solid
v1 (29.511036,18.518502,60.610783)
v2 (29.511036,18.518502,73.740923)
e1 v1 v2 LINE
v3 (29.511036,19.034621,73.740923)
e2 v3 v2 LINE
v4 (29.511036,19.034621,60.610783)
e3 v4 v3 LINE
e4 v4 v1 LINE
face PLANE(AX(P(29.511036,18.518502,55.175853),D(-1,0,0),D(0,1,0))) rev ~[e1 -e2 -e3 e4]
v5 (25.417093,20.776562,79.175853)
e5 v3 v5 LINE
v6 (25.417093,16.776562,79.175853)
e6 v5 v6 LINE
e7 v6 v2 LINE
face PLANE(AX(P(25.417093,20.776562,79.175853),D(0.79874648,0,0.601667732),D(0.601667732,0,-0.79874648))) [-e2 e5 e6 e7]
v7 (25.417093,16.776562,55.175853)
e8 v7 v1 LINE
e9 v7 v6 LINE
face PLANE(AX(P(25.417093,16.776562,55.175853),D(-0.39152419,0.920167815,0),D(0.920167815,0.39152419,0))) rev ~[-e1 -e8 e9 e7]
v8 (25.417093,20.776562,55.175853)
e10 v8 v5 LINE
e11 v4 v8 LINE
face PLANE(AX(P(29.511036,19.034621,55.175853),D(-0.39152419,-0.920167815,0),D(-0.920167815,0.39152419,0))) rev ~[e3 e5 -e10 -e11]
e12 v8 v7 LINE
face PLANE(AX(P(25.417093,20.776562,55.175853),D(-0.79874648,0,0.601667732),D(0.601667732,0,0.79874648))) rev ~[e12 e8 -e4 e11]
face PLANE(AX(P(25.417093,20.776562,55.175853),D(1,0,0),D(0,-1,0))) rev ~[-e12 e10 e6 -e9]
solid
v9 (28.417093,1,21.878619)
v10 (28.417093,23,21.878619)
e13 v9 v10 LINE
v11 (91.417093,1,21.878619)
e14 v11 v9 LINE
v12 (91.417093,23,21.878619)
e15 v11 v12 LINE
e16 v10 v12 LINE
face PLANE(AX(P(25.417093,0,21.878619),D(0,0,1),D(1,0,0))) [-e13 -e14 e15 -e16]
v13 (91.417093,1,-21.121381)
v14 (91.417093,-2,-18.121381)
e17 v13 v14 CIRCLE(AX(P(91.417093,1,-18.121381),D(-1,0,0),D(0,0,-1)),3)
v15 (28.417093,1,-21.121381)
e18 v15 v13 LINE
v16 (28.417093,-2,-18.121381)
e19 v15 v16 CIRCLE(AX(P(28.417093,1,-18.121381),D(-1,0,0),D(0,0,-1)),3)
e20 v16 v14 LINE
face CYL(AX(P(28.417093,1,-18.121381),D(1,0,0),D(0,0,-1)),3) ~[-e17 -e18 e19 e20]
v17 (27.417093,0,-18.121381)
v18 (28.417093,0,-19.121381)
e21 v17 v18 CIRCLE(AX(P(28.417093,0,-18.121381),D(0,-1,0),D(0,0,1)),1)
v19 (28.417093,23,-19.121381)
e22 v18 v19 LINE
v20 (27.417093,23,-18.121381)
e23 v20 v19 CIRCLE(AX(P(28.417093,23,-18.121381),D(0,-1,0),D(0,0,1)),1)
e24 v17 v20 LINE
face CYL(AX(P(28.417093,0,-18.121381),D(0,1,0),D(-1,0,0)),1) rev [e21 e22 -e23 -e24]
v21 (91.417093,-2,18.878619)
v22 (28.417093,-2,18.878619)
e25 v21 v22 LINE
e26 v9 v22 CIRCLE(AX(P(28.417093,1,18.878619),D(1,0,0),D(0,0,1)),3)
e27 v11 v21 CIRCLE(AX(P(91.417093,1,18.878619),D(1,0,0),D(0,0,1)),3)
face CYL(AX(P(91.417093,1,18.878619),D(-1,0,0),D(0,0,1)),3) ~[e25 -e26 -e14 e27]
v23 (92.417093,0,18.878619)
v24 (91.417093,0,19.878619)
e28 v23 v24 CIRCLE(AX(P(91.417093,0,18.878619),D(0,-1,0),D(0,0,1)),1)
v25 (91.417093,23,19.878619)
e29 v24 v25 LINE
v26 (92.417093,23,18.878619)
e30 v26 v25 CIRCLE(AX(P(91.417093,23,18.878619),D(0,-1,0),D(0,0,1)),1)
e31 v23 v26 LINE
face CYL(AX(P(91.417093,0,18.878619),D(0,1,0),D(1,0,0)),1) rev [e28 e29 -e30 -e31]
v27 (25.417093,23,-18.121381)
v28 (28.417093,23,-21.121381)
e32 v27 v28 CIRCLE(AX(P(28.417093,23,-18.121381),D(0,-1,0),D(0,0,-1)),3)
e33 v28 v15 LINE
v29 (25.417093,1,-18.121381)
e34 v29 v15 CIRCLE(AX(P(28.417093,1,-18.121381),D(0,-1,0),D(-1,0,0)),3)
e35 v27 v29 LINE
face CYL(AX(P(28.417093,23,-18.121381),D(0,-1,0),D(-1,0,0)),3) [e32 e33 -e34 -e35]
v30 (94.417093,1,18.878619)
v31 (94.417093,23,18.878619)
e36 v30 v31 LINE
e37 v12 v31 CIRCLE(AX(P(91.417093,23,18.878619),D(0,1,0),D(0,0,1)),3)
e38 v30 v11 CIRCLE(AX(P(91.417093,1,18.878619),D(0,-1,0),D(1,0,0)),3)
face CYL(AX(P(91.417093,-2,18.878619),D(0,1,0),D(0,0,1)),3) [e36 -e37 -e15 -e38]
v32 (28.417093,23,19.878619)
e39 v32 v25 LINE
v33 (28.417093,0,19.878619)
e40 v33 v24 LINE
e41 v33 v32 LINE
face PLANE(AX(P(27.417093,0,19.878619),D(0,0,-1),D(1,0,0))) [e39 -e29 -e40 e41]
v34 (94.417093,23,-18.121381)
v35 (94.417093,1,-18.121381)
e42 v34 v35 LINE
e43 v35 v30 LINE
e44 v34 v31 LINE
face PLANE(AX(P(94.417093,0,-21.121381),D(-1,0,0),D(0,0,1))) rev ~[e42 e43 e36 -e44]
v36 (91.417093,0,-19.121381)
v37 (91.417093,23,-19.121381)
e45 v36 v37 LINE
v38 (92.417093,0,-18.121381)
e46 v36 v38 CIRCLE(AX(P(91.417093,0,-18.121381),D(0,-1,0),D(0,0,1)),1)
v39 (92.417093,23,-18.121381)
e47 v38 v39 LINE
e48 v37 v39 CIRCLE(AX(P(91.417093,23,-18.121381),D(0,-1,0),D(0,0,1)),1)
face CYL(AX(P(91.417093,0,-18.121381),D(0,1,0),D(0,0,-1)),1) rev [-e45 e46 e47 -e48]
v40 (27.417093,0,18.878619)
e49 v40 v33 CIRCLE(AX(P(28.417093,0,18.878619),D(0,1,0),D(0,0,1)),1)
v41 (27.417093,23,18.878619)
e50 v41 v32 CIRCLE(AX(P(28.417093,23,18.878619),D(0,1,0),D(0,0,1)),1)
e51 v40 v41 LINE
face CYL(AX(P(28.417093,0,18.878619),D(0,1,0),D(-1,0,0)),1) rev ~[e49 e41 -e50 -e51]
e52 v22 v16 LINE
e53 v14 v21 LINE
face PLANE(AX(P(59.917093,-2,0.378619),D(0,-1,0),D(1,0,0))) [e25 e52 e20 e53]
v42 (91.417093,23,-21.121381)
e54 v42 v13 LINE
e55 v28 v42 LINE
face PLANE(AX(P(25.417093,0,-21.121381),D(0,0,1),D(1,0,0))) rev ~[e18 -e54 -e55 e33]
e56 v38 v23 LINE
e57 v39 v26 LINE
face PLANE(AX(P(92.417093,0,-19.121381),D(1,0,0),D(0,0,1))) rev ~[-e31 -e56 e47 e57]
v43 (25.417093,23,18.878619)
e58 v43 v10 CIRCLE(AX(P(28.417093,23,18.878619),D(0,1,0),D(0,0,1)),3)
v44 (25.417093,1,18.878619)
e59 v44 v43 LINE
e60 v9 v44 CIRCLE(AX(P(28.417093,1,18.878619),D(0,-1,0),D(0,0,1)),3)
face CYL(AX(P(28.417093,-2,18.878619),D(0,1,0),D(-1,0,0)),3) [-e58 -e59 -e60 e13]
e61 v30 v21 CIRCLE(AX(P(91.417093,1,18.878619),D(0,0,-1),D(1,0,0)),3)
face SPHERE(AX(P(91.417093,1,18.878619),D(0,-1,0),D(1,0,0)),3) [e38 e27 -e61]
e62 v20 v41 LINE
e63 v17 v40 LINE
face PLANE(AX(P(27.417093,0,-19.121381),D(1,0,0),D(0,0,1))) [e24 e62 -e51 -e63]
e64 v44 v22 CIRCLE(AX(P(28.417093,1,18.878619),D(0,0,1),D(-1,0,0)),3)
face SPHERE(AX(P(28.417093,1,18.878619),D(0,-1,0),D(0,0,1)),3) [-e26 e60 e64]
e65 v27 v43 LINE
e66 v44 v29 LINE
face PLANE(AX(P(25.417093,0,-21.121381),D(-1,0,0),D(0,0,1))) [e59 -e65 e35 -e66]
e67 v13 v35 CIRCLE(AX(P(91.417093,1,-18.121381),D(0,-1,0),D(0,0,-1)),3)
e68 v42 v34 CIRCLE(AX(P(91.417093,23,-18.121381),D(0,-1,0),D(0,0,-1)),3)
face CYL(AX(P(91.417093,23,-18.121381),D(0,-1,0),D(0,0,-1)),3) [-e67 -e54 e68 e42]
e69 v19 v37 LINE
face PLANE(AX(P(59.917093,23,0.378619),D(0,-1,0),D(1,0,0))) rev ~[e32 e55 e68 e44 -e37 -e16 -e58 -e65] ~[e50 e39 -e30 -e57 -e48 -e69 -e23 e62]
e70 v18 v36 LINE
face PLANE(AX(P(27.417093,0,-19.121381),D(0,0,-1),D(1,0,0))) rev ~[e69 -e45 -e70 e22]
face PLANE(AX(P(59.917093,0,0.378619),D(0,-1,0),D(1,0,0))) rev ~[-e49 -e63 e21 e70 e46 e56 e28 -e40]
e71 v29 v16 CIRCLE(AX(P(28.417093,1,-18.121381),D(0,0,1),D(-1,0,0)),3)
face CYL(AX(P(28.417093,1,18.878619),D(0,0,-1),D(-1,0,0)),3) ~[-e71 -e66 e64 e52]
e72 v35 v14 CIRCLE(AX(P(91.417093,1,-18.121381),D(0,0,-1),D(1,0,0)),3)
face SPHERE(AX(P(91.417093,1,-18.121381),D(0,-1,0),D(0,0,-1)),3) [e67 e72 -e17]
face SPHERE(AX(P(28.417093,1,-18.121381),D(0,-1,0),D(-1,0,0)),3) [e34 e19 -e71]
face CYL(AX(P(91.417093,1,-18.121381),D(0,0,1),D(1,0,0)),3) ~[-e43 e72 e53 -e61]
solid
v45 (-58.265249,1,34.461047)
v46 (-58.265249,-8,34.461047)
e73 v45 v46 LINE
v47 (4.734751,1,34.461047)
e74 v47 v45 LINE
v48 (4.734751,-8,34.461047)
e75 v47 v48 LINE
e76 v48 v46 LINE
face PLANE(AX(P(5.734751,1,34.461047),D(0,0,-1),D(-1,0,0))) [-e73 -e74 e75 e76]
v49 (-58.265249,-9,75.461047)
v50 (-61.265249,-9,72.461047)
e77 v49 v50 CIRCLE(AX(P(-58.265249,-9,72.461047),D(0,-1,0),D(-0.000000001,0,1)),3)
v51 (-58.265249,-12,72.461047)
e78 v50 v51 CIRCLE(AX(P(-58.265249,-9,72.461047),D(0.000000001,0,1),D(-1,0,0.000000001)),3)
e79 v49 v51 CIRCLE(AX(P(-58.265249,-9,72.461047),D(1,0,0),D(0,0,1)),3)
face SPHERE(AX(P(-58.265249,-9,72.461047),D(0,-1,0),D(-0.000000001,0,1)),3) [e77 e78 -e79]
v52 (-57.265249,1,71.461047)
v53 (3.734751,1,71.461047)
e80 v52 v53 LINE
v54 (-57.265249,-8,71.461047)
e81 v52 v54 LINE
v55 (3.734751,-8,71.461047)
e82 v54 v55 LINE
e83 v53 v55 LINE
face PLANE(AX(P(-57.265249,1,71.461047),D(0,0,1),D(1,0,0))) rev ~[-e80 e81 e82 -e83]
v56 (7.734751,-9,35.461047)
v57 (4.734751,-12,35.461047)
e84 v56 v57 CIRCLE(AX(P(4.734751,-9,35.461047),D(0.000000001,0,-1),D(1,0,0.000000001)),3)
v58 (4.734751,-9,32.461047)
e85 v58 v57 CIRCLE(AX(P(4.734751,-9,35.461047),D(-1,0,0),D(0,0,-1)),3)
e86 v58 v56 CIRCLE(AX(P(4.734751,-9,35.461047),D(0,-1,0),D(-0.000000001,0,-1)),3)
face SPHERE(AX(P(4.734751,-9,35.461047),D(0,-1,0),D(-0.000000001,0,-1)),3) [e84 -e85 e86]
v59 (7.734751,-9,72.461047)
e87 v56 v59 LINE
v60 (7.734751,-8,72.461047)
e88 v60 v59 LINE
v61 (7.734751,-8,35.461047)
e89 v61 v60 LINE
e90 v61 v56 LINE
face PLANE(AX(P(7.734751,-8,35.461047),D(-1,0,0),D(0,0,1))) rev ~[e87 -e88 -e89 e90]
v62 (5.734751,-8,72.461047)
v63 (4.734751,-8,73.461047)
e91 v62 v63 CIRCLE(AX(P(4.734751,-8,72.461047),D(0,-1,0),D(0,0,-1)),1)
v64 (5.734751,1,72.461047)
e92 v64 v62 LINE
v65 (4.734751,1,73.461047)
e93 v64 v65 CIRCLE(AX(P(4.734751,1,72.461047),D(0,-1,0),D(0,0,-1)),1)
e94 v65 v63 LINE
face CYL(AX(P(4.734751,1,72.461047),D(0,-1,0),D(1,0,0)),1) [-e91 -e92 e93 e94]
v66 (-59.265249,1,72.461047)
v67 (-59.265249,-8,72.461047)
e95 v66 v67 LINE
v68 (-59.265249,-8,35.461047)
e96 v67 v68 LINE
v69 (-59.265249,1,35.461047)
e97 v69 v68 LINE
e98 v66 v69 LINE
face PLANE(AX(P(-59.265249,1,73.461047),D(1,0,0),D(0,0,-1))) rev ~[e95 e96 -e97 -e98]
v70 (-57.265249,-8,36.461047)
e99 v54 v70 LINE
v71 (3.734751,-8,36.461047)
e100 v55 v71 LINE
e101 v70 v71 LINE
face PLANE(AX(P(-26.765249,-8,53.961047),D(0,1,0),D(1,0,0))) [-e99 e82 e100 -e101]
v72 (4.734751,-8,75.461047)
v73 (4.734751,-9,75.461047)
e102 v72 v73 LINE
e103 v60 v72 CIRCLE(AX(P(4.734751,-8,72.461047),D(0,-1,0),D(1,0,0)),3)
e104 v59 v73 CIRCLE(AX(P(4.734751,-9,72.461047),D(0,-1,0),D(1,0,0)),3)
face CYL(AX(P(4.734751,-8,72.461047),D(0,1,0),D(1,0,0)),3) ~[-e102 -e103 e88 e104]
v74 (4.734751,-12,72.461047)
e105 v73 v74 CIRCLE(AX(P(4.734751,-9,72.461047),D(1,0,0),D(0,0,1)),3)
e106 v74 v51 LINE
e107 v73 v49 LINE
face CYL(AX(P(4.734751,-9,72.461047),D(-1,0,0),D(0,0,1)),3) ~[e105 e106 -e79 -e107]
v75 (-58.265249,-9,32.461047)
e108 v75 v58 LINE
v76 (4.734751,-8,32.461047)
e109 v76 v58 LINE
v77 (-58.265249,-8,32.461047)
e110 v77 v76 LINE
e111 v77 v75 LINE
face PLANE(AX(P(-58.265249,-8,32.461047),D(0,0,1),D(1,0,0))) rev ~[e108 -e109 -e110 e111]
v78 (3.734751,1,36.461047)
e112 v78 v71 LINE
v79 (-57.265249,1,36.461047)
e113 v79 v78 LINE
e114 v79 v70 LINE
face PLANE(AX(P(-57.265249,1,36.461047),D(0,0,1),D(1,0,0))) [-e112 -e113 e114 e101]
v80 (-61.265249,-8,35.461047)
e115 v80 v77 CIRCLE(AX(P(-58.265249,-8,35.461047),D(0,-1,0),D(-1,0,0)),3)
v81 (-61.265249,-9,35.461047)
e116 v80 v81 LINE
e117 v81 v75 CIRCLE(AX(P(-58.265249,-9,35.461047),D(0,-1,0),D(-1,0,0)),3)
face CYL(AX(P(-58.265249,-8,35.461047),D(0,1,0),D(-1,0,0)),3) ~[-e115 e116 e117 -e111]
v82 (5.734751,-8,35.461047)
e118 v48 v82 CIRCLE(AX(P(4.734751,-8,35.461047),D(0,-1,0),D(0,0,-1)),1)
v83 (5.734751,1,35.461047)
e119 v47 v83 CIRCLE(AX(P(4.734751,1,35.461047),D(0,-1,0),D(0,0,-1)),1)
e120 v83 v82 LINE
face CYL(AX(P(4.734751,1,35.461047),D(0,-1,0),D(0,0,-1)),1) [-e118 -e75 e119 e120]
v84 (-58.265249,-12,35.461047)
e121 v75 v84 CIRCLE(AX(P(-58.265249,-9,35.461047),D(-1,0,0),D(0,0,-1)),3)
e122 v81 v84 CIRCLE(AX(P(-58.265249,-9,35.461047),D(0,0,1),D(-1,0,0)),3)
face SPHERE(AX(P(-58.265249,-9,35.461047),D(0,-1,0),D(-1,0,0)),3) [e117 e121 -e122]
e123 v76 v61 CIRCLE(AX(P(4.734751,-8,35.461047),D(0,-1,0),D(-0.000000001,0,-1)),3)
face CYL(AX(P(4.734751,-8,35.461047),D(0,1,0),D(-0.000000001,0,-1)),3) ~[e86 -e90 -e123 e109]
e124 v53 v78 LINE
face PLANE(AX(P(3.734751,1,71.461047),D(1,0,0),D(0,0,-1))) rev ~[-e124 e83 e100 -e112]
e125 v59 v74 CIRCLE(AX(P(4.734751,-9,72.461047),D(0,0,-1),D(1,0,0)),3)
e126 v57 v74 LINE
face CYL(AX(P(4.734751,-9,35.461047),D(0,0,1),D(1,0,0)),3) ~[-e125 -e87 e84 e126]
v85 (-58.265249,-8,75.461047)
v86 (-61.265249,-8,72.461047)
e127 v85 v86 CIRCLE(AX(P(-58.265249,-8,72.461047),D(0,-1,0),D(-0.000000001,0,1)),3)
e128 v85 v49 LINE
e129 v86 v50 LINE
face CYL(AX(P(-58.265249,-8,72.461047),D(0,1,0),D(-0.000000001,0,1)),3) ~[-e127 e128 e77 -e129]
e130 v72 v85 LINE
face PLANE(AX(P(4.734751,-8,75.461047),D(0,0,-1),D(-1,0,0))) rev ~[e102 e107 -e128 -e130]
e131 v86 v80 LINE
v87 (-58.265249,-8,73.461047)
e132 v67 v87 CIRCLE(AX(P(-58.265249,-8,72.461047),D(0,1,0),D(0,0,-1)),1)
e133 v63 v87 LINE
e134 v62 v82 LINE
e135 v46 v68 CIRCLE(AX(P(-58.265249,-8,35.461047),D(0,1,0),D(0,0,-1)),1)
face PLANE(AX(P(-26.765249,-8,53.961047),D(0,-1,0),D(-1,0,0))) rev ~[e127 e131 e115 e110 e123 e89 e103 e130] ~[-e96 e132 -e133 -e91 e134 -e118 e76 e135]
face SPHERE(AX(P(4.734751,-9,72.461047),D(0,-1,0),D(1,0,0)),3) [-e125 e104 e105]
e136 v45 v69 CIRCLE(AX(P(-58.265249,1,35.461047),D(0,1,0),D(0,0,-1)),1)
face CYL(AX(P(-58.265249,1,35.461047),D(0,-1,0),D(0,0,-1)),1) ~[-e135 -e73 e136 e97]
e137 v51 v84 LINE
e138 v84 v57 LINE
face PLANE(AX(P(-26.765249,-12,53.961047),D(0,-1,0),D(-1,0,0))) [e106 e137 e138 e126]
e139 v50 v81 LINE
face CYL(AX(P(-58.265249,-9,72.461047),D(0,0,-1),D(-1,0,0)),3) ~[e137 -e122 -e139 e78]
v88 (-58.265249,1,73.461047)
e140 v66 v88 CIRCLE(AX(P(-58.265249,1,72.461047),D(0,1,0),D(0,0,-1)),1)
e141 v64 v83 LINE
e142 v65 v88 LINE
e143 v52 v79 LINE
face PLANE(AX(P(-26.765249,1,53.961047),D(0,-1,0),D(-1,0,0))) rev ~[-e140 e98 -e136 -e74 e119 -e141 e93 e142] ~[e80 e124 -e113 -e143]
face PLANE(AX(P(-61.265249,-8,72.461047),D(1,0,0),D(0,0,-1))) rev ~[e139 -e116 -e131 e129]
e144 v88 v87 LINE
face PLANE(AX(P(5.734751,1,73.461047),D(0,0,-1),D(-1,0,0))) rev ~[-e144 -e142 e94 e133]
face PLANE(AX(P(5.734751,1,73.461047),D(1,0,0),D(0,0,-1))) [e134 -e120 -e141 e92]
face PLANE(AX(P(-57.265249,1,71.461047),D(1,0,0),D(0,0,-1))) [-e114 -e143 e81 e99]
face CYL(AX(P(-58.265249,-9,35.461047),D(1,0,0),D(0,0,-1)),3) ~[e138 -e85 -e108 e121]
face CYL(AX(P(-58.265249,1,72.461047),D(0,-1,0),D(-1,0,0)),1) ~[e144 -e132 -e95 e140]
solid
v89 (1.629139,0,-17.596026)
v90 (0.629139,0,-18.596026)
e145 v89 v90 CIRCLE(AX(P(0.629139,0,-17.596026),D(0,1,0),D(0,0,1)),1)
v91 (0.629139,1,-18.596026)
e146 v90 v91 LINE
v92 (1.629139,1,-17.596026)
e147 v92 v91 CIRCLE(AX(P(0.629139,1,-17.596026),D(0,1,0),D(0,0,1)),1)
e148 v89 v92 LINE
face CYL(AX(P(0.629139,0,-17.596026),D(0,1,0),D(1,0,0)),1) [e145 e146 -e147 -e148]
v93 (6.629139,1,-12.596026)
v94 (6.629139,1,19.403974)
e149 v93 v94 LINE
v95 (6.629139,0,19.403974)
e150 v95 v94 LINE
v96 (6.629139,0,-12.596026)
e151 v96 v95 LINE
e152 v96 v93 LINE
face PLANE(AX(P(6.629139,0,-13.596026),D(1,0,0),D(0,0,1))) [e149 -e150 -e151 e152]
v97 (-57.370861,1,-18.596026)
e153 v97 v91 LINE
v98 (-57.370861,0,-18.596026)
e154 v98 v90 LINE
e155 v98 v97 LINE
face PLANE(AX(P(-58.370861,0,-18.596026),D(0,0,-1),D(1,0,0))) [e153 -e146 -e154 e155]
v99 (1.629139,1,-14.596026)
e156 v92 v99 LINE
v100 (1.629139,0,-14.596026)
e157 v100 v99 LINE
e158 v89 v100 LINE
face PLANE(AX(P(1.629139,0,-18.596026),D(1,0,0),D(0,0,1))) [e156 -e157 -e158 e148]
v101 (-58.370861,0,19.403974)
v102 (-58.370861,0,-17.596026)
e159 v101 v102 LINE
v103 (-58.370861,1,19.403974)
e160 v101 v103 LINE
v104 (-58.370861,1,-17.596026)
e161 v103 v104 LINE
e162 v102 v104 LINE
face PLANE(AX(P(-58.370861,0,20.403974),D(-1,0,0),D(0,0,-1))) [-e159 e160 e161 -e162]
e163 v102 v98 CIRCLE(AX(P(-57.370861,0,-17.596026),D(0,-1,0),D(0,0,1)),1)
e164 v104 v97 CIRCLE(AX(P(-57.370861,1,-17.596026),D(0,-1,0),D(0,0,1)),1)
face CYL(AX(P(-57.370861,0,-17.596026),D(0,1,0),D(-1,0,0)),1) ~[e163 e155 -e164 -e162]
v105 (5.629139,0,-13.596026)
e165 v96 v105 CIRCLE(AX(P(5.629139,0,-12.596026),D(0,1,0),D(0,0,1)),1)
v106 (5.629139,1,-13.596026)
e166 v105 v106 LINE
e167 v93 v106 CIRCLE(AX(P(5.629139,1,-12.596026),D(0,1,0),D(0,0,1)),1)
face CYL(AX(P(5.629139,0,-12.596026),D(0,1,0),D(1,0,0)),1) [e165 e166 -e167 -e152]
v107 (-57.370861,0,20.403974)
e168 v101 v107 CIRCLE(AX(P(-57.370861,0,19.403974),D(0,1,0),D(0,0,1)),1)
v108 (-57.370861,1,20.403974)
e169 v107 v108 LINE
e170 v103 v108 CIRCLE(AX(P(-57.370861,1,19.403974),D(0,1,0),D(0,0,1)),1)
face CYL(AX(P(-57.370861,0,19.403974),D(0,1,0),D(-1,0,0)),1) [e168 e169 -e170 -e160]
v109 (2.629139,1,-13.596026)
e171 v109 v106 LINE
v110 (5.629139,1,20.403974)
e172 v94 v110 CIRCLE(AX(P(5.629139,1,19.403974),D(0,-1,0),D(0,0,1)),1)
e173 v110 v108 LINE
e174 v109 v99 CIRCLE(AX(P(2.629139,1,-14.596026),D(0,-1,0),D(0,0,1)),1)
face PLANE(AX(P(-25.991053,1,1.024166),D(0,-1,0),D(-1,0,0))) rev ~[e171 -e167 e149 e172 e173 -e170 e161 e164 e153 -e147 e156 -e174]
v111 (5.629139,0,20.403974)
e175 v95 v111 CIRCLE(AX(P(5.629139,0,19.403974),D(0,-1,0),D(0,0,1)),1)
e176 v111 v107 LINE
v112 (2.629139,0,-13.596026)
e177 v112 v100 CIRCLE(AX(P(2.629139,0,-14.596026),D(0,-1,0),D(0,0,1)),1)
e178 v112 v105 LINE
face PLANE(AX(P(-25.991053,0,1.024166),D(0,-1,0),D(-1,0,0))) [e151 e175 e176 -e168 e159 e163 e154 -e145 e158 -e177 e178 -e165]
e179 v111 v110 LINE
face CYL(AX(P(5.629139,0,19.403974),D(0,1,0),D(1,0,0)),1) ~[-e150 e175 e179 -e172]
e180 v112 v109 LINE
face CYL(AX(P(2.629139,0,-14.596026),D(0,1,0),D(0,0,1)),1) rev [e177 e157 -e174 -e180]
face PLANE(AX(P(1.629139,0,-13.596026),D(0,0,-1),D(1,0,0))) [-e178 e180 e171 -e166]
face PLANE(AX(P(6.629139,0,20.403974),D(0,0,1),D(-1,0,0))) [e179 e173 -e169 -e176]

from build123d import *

# Parameters (mm, degrees)
BOSS_EXTRUDE1_DEPTH   = 1
FILLET2_R             = 1
FILLET3_R             = 1
FILLET4_R             = 1
FILLET5_R             = 1
SKETCH3_W             = 69
SKETCH3_H             = 43
SKETCH3_W_2           = 65
SKETCH3_H_2           = 39
BOSS_EXTRUDE2_DEPTH   = 23
SKETCH5_W             = 69
SKETCH5_H             = 43
BOSS_EXTRUDE3_DEPTH   = 2
FILLET6_R             = 1
FILLET7_R             = 1
FILLET8_R             = 1
FILLET9_R             = 1
FILLET10_R            = 3
FILLET11_R            = 3
BOSS_EXTRUDE5_DEPTH   = 9
FILLET12_R            = 1
FILLET13_R            = 1
BOSS_EXTRUDE6_DEPTH   = 4
SKETCH9_W             = 61
SKETCH9_H             = 35
BOSS_EXTRUDE7_DEPTH   = 9
FILLET14_R            = 3
FILLET15_R            = 3
BOSS_EXTRUDE8_DEPTH   = 24
BOSS_EXTRUDE9_DEPTH   = 4
BOSS_EXTRUDE9_2_DEPTH = 4


with BuildPart() as part:
    # Sketch1 → Boss-Extrude1 (new body)
    with BuildSketch(Plane(origin=(0, 0, 0), x_dir=(1, 0, 0), z_dir=(0, 1, 0))):
        Polygon((-58.370860927, -20.40397351), (-58.370860927, 18.59602649), (1.629139073, 18.59602649), (1.629139073, 13.59602649), (6.629139073, 13.59602649), (6.629139073, -20.40397351), align=None)
    extrude(amount=BOSS_EXTRUDE1_DEPTH)

    # Fillet2
    fillet2_edges = [part.edges().sort_by_distance(p)[0] for p in [
        (6.629139073, 0.5, 20.40397351),
    ]]
    fillet(fillet2_edges, radius=FILLET2_R)

    # Fillet3
    fillet3_edges = [part.edges().sort_by_distance(p)[0] for p in [
        (1.629139073, 0.5, -18.59602649),
        (1.629139073, 0.5, -13.59602649),
        (6.629139073, 0.5, -13.59602649),
    ]]
    fillet(fillet3_edges, radius=FILLET3_R)

    # Fillet4
    fillet4_edges = [part.edges().sort_by_distance(p)[0] for p in [
        (-58.370860927, 0.5, -18.59602649),
    ]]
    fillet(fillet4_edges, radius=FILLET4_R)

    # Fillet5
    fillet5_edges = [part.edges().sort_by_distance(p)[0] for p in [
        (-58.370860927, 0.5, 20.40397351),
    ]]
    fillet(fillet5_edges, radius=FILLET5_R)


with BuildPart() as body_2:
    # Sketch3 → Boss-Extrude2 (new body)
    with BuildSketch(Plane.XZ):
        with Locations((59.917093339, 0.378619439)):
            Rectangle(SKETCH3_W, SKETCH3_H)
        with Locations((59.917093339, 0.378619439)):
            Rectangle(SKETCH3_W_2, SKETCH3_H_2, mode=Mode.SUBTRACT)
    extrude(amount=-BOSS_EXTRUDE2_DEPTH)

    # Sketch5 → Boss-Extrude3 (add)
    with BuildSketch(Plane.XZ):
        with Locations((59.917093339, 0.378619439)):
            Rectangle(SKETCH5_W, SKETCH5_H)
    extrude(amount=BOSS_EXTRUDE3_DEPTH)

    # Fillet6
    fillet6_edges = [body_2.edges().sort_by_distance(p)[0] for p in [
        (27.417093339, 11.5, 19.878619439),
    ]]
    fillet(fillet6_edges, radius=FILLET6_R)

    # Fillet7
    fillet7_edges = [body_2.edges().sort_by_distance(p)[0] for p in [
        (27.417093339, 11.5, -19.121380561),
    ]]
    fillet(fillet7_edges, radius=FILLET7_R)

    # Fillet8
    fillet8_edges = [body_2.edges().sort_by_distance(p)[0] for p in [
        (92.417093339, 11.5, -19.121380561),
    ]]
    fillet(fillet8_edges, radius=FILLET8_R)

    # Fillet9
    fillet9_edges = [body_2.edges().sort_by_distance(p)[0] for p in [
        (92.417093339, 11.5, 19.878619439),
    ]]
    fillet(fillet9_edges, radius=FILLET9_R)

    # Fillet10
    fillet10_edges = [body_2.edges().sort_by_distance(p)[0] for p in [
        (94.417093339, 10.5, -21.121380561),
        (25.417093339, 10.5, -21.121380561),
        (94.417093339, 10.5, 21.878619439),
    ]]
    fillet(fillet10_edges, radius=FILLET10_R)

    # Fillet11
    fillet11_edges = [body_2.edges().sort_by_distance(p)[0] for p in [
        (25.417093339, 10.5, 21.878619439),
    ]]
    fillet(fillet11_edges, radius=FILLET11_R)

    # Fillet14
    fillet14_edges = [body_2.edges().sort_by_distance(p)[0] for p in [
        (94.417093339, -2, 0.378619439),
        (59.917093339, -2, -21.121380561),
        (59.917093339, -2, 21.878619439),
        (93.538413683, -2, -20.242700905),
        (26.295772995, -2, -20.242700905),
        (93.538413683, -2, 20.999939782),
        (25.417093339, -2, 0.378619439),
        (26.295772995, -2, 20.999939782),
    ]]
    fillet(fillet14_edges, radius=FILLET14_R)


with BuildPart() as body_3:
    # Sketch7 → Boss-Extrude5 (new body)
    with BuildSketch(Plane(origin=(-22.905465396, 1, 42.53872145), x_dir=(1, 0, 0), z_dir=(0, 1, 0))):
        Polygon((-36.359783771, -30.922325969), (-36.359783771, 8.077674031), (23.640216229, 8.077674031), (28.640216229, 8.077674031), (28.640216229, 3.077674031), (28.640216229, -30.922325969), align=None)
    extrude(amount=-BOSS_EXTRUDE5_DEPTH)

    # Fillet12
    fillet12_edges = [body_3.edges().sort_by_distance(p)[0] for p in [
        (5.734750833, -3.5, 34.461047419),
        (5.734750833, -3.5, 73.461047419),
    ]]
    fillet(fillet12_edges, radius=FILLET12_R)

    # Fillet13
    fillet13_edges = [body_3.edges().sort_by_distance(p)[0] for p in [
        (-59.265249167, -3.5, 73.461047419),
        (-59.265249167, -3.5, 34.461047419),
    ]]
    fillet(fillet13_edges, radius=FILLET13_R)

    # Sketch8 → Boss-Extrude6 (add)
    with BuildSketch(Plane(origin=(0, -8, 0), x_dir=(-1, 0, 0), z_dir=(0, -1, 0))):
        with BuildLine():
            Line((58.265249167, -32.461047419), (-4.734750833, -32.461047419))
            ThreePointArc((-4.734750833, -32.461047419), (-6.856071177, -33.339727075), (-7.734750833, -35.461047419))
            Line((-7.734750833, -35.461047419), (-7.734750833, -72.461047419))
            ThreePointArc((-7.734750833, -72.461047419), (-6.856071177, -74.582367762), (-4.734750833, -75.461047419))
            Line((-4.734750833, -75.461047419), (58.265249167, -75.461047419))
            ThreePointArc((58.265249167, -75.461047419), (60.38656951, -74.582367762), (61.265249167, -72.461047419))
            Line((61.265249167, -72.461047419), (61.265249167, -35.461047419))
            ThreePointArc((61.265249167, -35.461047419), (60.38656951, -33.339727075), (58.265249167, -32.461047419))
        make_face()
    extrude(amount=BOSS_EXTRUDE6_DEPTH)


with BuildPart() as body_4:
    # Sketch9 → Boss-Extrude7 (new body)
    with BuildSketch(Plane(origin=(0, 1, 0), x_dir=(1, 0, 0), z_dir=(0, 1, 0))):
        with Locations((-26.765249167, -53.961047419)):
            Rectangle(SKETCH9_W, SKETCH9_H)
    extrude(amount=-BOSS_EXTRUDE7_DEPTH)


with BuildPart() as body_3_1:
    add(body_3.part)

    # Combine1: cut body 4
    add(body_4.part, mode=Mode.SUBTRACT)

    # Fillet15
    fillet15_edges = [body_3_1.edges().sort_by_distance(p)[0] for p in [
        (-60.38656951, -12, 33.339727075),
        (-26.765249167, -12, 32.461047419),
        (6.856071177, -12, 33.339727075),
        (7.734750833, -12, 53.961047419),
        (6.856071177, -12, 74.582367762),
        (-26.765249167, -12, 75.461047419),
        (-60.38656951, -12, 74.582367762),
        (-61.265249167, -12, 53.961047419),
    ]]
    fillet(fillet15_edges, radius=FILLET15_R)


with BuildPart() as body_4_2:
    # Sketch12 → Boss-Extrude8 (new body)
    with BuildSketch(Plane.XY.offset(55.17585305)):
        Polygon((25.417093339, 20.776561778), (25.417093339, 16.776561778), (29.511035961, 18.518502263), (29.511035961, 19.034621293), align=None)
    extrude(amount=BOSS_EXTRUDE8_DEPTH)


with BuildPart() as body_5:
    # Sketch15 → Boss-Extrude9 (new body)
    with BuildSketch(Plane(origin=(0, 20.776561778, 0), x_dir=(1, 0, 0), z_dir=(0, 1, 0))):
        Polygon((25.417093339, -79.17585305), (29.511035961, -73.74092263), (29.511035961, -79.17585305), align=None)
    extrude(amount=-BOSS_EXTRUDE9_DEPTH)


with BuildPart() as body_6:
    # Sketch15 → Boss-Extrude9 2 (new body)
    with BuildSketch(Plane(origin=(0, 20.776561778, 0), x_dir=(1, 0, 0), z_dir=(0, 1, 0))):
        Polygon((29.511035961, -60.610783469), (29.511035961, -55.17585305), (25.417093339, -55.17585305), align=None)
    extrude(amount=-BOSS_EXTRUDE9_2_DEPTH)


with BuildPart() as body_4_2_1:
    add(body_4_2.part)

    # Combine2: cut body 5, body 6
    add(body_5.part, mode=Mode.SUBTRACT)
    add(body_6.part, mode=Mode.SUBTRACT)


solid = Compound([part.part, body_2.part, body_3_1.part, body_4_2_1.part])
